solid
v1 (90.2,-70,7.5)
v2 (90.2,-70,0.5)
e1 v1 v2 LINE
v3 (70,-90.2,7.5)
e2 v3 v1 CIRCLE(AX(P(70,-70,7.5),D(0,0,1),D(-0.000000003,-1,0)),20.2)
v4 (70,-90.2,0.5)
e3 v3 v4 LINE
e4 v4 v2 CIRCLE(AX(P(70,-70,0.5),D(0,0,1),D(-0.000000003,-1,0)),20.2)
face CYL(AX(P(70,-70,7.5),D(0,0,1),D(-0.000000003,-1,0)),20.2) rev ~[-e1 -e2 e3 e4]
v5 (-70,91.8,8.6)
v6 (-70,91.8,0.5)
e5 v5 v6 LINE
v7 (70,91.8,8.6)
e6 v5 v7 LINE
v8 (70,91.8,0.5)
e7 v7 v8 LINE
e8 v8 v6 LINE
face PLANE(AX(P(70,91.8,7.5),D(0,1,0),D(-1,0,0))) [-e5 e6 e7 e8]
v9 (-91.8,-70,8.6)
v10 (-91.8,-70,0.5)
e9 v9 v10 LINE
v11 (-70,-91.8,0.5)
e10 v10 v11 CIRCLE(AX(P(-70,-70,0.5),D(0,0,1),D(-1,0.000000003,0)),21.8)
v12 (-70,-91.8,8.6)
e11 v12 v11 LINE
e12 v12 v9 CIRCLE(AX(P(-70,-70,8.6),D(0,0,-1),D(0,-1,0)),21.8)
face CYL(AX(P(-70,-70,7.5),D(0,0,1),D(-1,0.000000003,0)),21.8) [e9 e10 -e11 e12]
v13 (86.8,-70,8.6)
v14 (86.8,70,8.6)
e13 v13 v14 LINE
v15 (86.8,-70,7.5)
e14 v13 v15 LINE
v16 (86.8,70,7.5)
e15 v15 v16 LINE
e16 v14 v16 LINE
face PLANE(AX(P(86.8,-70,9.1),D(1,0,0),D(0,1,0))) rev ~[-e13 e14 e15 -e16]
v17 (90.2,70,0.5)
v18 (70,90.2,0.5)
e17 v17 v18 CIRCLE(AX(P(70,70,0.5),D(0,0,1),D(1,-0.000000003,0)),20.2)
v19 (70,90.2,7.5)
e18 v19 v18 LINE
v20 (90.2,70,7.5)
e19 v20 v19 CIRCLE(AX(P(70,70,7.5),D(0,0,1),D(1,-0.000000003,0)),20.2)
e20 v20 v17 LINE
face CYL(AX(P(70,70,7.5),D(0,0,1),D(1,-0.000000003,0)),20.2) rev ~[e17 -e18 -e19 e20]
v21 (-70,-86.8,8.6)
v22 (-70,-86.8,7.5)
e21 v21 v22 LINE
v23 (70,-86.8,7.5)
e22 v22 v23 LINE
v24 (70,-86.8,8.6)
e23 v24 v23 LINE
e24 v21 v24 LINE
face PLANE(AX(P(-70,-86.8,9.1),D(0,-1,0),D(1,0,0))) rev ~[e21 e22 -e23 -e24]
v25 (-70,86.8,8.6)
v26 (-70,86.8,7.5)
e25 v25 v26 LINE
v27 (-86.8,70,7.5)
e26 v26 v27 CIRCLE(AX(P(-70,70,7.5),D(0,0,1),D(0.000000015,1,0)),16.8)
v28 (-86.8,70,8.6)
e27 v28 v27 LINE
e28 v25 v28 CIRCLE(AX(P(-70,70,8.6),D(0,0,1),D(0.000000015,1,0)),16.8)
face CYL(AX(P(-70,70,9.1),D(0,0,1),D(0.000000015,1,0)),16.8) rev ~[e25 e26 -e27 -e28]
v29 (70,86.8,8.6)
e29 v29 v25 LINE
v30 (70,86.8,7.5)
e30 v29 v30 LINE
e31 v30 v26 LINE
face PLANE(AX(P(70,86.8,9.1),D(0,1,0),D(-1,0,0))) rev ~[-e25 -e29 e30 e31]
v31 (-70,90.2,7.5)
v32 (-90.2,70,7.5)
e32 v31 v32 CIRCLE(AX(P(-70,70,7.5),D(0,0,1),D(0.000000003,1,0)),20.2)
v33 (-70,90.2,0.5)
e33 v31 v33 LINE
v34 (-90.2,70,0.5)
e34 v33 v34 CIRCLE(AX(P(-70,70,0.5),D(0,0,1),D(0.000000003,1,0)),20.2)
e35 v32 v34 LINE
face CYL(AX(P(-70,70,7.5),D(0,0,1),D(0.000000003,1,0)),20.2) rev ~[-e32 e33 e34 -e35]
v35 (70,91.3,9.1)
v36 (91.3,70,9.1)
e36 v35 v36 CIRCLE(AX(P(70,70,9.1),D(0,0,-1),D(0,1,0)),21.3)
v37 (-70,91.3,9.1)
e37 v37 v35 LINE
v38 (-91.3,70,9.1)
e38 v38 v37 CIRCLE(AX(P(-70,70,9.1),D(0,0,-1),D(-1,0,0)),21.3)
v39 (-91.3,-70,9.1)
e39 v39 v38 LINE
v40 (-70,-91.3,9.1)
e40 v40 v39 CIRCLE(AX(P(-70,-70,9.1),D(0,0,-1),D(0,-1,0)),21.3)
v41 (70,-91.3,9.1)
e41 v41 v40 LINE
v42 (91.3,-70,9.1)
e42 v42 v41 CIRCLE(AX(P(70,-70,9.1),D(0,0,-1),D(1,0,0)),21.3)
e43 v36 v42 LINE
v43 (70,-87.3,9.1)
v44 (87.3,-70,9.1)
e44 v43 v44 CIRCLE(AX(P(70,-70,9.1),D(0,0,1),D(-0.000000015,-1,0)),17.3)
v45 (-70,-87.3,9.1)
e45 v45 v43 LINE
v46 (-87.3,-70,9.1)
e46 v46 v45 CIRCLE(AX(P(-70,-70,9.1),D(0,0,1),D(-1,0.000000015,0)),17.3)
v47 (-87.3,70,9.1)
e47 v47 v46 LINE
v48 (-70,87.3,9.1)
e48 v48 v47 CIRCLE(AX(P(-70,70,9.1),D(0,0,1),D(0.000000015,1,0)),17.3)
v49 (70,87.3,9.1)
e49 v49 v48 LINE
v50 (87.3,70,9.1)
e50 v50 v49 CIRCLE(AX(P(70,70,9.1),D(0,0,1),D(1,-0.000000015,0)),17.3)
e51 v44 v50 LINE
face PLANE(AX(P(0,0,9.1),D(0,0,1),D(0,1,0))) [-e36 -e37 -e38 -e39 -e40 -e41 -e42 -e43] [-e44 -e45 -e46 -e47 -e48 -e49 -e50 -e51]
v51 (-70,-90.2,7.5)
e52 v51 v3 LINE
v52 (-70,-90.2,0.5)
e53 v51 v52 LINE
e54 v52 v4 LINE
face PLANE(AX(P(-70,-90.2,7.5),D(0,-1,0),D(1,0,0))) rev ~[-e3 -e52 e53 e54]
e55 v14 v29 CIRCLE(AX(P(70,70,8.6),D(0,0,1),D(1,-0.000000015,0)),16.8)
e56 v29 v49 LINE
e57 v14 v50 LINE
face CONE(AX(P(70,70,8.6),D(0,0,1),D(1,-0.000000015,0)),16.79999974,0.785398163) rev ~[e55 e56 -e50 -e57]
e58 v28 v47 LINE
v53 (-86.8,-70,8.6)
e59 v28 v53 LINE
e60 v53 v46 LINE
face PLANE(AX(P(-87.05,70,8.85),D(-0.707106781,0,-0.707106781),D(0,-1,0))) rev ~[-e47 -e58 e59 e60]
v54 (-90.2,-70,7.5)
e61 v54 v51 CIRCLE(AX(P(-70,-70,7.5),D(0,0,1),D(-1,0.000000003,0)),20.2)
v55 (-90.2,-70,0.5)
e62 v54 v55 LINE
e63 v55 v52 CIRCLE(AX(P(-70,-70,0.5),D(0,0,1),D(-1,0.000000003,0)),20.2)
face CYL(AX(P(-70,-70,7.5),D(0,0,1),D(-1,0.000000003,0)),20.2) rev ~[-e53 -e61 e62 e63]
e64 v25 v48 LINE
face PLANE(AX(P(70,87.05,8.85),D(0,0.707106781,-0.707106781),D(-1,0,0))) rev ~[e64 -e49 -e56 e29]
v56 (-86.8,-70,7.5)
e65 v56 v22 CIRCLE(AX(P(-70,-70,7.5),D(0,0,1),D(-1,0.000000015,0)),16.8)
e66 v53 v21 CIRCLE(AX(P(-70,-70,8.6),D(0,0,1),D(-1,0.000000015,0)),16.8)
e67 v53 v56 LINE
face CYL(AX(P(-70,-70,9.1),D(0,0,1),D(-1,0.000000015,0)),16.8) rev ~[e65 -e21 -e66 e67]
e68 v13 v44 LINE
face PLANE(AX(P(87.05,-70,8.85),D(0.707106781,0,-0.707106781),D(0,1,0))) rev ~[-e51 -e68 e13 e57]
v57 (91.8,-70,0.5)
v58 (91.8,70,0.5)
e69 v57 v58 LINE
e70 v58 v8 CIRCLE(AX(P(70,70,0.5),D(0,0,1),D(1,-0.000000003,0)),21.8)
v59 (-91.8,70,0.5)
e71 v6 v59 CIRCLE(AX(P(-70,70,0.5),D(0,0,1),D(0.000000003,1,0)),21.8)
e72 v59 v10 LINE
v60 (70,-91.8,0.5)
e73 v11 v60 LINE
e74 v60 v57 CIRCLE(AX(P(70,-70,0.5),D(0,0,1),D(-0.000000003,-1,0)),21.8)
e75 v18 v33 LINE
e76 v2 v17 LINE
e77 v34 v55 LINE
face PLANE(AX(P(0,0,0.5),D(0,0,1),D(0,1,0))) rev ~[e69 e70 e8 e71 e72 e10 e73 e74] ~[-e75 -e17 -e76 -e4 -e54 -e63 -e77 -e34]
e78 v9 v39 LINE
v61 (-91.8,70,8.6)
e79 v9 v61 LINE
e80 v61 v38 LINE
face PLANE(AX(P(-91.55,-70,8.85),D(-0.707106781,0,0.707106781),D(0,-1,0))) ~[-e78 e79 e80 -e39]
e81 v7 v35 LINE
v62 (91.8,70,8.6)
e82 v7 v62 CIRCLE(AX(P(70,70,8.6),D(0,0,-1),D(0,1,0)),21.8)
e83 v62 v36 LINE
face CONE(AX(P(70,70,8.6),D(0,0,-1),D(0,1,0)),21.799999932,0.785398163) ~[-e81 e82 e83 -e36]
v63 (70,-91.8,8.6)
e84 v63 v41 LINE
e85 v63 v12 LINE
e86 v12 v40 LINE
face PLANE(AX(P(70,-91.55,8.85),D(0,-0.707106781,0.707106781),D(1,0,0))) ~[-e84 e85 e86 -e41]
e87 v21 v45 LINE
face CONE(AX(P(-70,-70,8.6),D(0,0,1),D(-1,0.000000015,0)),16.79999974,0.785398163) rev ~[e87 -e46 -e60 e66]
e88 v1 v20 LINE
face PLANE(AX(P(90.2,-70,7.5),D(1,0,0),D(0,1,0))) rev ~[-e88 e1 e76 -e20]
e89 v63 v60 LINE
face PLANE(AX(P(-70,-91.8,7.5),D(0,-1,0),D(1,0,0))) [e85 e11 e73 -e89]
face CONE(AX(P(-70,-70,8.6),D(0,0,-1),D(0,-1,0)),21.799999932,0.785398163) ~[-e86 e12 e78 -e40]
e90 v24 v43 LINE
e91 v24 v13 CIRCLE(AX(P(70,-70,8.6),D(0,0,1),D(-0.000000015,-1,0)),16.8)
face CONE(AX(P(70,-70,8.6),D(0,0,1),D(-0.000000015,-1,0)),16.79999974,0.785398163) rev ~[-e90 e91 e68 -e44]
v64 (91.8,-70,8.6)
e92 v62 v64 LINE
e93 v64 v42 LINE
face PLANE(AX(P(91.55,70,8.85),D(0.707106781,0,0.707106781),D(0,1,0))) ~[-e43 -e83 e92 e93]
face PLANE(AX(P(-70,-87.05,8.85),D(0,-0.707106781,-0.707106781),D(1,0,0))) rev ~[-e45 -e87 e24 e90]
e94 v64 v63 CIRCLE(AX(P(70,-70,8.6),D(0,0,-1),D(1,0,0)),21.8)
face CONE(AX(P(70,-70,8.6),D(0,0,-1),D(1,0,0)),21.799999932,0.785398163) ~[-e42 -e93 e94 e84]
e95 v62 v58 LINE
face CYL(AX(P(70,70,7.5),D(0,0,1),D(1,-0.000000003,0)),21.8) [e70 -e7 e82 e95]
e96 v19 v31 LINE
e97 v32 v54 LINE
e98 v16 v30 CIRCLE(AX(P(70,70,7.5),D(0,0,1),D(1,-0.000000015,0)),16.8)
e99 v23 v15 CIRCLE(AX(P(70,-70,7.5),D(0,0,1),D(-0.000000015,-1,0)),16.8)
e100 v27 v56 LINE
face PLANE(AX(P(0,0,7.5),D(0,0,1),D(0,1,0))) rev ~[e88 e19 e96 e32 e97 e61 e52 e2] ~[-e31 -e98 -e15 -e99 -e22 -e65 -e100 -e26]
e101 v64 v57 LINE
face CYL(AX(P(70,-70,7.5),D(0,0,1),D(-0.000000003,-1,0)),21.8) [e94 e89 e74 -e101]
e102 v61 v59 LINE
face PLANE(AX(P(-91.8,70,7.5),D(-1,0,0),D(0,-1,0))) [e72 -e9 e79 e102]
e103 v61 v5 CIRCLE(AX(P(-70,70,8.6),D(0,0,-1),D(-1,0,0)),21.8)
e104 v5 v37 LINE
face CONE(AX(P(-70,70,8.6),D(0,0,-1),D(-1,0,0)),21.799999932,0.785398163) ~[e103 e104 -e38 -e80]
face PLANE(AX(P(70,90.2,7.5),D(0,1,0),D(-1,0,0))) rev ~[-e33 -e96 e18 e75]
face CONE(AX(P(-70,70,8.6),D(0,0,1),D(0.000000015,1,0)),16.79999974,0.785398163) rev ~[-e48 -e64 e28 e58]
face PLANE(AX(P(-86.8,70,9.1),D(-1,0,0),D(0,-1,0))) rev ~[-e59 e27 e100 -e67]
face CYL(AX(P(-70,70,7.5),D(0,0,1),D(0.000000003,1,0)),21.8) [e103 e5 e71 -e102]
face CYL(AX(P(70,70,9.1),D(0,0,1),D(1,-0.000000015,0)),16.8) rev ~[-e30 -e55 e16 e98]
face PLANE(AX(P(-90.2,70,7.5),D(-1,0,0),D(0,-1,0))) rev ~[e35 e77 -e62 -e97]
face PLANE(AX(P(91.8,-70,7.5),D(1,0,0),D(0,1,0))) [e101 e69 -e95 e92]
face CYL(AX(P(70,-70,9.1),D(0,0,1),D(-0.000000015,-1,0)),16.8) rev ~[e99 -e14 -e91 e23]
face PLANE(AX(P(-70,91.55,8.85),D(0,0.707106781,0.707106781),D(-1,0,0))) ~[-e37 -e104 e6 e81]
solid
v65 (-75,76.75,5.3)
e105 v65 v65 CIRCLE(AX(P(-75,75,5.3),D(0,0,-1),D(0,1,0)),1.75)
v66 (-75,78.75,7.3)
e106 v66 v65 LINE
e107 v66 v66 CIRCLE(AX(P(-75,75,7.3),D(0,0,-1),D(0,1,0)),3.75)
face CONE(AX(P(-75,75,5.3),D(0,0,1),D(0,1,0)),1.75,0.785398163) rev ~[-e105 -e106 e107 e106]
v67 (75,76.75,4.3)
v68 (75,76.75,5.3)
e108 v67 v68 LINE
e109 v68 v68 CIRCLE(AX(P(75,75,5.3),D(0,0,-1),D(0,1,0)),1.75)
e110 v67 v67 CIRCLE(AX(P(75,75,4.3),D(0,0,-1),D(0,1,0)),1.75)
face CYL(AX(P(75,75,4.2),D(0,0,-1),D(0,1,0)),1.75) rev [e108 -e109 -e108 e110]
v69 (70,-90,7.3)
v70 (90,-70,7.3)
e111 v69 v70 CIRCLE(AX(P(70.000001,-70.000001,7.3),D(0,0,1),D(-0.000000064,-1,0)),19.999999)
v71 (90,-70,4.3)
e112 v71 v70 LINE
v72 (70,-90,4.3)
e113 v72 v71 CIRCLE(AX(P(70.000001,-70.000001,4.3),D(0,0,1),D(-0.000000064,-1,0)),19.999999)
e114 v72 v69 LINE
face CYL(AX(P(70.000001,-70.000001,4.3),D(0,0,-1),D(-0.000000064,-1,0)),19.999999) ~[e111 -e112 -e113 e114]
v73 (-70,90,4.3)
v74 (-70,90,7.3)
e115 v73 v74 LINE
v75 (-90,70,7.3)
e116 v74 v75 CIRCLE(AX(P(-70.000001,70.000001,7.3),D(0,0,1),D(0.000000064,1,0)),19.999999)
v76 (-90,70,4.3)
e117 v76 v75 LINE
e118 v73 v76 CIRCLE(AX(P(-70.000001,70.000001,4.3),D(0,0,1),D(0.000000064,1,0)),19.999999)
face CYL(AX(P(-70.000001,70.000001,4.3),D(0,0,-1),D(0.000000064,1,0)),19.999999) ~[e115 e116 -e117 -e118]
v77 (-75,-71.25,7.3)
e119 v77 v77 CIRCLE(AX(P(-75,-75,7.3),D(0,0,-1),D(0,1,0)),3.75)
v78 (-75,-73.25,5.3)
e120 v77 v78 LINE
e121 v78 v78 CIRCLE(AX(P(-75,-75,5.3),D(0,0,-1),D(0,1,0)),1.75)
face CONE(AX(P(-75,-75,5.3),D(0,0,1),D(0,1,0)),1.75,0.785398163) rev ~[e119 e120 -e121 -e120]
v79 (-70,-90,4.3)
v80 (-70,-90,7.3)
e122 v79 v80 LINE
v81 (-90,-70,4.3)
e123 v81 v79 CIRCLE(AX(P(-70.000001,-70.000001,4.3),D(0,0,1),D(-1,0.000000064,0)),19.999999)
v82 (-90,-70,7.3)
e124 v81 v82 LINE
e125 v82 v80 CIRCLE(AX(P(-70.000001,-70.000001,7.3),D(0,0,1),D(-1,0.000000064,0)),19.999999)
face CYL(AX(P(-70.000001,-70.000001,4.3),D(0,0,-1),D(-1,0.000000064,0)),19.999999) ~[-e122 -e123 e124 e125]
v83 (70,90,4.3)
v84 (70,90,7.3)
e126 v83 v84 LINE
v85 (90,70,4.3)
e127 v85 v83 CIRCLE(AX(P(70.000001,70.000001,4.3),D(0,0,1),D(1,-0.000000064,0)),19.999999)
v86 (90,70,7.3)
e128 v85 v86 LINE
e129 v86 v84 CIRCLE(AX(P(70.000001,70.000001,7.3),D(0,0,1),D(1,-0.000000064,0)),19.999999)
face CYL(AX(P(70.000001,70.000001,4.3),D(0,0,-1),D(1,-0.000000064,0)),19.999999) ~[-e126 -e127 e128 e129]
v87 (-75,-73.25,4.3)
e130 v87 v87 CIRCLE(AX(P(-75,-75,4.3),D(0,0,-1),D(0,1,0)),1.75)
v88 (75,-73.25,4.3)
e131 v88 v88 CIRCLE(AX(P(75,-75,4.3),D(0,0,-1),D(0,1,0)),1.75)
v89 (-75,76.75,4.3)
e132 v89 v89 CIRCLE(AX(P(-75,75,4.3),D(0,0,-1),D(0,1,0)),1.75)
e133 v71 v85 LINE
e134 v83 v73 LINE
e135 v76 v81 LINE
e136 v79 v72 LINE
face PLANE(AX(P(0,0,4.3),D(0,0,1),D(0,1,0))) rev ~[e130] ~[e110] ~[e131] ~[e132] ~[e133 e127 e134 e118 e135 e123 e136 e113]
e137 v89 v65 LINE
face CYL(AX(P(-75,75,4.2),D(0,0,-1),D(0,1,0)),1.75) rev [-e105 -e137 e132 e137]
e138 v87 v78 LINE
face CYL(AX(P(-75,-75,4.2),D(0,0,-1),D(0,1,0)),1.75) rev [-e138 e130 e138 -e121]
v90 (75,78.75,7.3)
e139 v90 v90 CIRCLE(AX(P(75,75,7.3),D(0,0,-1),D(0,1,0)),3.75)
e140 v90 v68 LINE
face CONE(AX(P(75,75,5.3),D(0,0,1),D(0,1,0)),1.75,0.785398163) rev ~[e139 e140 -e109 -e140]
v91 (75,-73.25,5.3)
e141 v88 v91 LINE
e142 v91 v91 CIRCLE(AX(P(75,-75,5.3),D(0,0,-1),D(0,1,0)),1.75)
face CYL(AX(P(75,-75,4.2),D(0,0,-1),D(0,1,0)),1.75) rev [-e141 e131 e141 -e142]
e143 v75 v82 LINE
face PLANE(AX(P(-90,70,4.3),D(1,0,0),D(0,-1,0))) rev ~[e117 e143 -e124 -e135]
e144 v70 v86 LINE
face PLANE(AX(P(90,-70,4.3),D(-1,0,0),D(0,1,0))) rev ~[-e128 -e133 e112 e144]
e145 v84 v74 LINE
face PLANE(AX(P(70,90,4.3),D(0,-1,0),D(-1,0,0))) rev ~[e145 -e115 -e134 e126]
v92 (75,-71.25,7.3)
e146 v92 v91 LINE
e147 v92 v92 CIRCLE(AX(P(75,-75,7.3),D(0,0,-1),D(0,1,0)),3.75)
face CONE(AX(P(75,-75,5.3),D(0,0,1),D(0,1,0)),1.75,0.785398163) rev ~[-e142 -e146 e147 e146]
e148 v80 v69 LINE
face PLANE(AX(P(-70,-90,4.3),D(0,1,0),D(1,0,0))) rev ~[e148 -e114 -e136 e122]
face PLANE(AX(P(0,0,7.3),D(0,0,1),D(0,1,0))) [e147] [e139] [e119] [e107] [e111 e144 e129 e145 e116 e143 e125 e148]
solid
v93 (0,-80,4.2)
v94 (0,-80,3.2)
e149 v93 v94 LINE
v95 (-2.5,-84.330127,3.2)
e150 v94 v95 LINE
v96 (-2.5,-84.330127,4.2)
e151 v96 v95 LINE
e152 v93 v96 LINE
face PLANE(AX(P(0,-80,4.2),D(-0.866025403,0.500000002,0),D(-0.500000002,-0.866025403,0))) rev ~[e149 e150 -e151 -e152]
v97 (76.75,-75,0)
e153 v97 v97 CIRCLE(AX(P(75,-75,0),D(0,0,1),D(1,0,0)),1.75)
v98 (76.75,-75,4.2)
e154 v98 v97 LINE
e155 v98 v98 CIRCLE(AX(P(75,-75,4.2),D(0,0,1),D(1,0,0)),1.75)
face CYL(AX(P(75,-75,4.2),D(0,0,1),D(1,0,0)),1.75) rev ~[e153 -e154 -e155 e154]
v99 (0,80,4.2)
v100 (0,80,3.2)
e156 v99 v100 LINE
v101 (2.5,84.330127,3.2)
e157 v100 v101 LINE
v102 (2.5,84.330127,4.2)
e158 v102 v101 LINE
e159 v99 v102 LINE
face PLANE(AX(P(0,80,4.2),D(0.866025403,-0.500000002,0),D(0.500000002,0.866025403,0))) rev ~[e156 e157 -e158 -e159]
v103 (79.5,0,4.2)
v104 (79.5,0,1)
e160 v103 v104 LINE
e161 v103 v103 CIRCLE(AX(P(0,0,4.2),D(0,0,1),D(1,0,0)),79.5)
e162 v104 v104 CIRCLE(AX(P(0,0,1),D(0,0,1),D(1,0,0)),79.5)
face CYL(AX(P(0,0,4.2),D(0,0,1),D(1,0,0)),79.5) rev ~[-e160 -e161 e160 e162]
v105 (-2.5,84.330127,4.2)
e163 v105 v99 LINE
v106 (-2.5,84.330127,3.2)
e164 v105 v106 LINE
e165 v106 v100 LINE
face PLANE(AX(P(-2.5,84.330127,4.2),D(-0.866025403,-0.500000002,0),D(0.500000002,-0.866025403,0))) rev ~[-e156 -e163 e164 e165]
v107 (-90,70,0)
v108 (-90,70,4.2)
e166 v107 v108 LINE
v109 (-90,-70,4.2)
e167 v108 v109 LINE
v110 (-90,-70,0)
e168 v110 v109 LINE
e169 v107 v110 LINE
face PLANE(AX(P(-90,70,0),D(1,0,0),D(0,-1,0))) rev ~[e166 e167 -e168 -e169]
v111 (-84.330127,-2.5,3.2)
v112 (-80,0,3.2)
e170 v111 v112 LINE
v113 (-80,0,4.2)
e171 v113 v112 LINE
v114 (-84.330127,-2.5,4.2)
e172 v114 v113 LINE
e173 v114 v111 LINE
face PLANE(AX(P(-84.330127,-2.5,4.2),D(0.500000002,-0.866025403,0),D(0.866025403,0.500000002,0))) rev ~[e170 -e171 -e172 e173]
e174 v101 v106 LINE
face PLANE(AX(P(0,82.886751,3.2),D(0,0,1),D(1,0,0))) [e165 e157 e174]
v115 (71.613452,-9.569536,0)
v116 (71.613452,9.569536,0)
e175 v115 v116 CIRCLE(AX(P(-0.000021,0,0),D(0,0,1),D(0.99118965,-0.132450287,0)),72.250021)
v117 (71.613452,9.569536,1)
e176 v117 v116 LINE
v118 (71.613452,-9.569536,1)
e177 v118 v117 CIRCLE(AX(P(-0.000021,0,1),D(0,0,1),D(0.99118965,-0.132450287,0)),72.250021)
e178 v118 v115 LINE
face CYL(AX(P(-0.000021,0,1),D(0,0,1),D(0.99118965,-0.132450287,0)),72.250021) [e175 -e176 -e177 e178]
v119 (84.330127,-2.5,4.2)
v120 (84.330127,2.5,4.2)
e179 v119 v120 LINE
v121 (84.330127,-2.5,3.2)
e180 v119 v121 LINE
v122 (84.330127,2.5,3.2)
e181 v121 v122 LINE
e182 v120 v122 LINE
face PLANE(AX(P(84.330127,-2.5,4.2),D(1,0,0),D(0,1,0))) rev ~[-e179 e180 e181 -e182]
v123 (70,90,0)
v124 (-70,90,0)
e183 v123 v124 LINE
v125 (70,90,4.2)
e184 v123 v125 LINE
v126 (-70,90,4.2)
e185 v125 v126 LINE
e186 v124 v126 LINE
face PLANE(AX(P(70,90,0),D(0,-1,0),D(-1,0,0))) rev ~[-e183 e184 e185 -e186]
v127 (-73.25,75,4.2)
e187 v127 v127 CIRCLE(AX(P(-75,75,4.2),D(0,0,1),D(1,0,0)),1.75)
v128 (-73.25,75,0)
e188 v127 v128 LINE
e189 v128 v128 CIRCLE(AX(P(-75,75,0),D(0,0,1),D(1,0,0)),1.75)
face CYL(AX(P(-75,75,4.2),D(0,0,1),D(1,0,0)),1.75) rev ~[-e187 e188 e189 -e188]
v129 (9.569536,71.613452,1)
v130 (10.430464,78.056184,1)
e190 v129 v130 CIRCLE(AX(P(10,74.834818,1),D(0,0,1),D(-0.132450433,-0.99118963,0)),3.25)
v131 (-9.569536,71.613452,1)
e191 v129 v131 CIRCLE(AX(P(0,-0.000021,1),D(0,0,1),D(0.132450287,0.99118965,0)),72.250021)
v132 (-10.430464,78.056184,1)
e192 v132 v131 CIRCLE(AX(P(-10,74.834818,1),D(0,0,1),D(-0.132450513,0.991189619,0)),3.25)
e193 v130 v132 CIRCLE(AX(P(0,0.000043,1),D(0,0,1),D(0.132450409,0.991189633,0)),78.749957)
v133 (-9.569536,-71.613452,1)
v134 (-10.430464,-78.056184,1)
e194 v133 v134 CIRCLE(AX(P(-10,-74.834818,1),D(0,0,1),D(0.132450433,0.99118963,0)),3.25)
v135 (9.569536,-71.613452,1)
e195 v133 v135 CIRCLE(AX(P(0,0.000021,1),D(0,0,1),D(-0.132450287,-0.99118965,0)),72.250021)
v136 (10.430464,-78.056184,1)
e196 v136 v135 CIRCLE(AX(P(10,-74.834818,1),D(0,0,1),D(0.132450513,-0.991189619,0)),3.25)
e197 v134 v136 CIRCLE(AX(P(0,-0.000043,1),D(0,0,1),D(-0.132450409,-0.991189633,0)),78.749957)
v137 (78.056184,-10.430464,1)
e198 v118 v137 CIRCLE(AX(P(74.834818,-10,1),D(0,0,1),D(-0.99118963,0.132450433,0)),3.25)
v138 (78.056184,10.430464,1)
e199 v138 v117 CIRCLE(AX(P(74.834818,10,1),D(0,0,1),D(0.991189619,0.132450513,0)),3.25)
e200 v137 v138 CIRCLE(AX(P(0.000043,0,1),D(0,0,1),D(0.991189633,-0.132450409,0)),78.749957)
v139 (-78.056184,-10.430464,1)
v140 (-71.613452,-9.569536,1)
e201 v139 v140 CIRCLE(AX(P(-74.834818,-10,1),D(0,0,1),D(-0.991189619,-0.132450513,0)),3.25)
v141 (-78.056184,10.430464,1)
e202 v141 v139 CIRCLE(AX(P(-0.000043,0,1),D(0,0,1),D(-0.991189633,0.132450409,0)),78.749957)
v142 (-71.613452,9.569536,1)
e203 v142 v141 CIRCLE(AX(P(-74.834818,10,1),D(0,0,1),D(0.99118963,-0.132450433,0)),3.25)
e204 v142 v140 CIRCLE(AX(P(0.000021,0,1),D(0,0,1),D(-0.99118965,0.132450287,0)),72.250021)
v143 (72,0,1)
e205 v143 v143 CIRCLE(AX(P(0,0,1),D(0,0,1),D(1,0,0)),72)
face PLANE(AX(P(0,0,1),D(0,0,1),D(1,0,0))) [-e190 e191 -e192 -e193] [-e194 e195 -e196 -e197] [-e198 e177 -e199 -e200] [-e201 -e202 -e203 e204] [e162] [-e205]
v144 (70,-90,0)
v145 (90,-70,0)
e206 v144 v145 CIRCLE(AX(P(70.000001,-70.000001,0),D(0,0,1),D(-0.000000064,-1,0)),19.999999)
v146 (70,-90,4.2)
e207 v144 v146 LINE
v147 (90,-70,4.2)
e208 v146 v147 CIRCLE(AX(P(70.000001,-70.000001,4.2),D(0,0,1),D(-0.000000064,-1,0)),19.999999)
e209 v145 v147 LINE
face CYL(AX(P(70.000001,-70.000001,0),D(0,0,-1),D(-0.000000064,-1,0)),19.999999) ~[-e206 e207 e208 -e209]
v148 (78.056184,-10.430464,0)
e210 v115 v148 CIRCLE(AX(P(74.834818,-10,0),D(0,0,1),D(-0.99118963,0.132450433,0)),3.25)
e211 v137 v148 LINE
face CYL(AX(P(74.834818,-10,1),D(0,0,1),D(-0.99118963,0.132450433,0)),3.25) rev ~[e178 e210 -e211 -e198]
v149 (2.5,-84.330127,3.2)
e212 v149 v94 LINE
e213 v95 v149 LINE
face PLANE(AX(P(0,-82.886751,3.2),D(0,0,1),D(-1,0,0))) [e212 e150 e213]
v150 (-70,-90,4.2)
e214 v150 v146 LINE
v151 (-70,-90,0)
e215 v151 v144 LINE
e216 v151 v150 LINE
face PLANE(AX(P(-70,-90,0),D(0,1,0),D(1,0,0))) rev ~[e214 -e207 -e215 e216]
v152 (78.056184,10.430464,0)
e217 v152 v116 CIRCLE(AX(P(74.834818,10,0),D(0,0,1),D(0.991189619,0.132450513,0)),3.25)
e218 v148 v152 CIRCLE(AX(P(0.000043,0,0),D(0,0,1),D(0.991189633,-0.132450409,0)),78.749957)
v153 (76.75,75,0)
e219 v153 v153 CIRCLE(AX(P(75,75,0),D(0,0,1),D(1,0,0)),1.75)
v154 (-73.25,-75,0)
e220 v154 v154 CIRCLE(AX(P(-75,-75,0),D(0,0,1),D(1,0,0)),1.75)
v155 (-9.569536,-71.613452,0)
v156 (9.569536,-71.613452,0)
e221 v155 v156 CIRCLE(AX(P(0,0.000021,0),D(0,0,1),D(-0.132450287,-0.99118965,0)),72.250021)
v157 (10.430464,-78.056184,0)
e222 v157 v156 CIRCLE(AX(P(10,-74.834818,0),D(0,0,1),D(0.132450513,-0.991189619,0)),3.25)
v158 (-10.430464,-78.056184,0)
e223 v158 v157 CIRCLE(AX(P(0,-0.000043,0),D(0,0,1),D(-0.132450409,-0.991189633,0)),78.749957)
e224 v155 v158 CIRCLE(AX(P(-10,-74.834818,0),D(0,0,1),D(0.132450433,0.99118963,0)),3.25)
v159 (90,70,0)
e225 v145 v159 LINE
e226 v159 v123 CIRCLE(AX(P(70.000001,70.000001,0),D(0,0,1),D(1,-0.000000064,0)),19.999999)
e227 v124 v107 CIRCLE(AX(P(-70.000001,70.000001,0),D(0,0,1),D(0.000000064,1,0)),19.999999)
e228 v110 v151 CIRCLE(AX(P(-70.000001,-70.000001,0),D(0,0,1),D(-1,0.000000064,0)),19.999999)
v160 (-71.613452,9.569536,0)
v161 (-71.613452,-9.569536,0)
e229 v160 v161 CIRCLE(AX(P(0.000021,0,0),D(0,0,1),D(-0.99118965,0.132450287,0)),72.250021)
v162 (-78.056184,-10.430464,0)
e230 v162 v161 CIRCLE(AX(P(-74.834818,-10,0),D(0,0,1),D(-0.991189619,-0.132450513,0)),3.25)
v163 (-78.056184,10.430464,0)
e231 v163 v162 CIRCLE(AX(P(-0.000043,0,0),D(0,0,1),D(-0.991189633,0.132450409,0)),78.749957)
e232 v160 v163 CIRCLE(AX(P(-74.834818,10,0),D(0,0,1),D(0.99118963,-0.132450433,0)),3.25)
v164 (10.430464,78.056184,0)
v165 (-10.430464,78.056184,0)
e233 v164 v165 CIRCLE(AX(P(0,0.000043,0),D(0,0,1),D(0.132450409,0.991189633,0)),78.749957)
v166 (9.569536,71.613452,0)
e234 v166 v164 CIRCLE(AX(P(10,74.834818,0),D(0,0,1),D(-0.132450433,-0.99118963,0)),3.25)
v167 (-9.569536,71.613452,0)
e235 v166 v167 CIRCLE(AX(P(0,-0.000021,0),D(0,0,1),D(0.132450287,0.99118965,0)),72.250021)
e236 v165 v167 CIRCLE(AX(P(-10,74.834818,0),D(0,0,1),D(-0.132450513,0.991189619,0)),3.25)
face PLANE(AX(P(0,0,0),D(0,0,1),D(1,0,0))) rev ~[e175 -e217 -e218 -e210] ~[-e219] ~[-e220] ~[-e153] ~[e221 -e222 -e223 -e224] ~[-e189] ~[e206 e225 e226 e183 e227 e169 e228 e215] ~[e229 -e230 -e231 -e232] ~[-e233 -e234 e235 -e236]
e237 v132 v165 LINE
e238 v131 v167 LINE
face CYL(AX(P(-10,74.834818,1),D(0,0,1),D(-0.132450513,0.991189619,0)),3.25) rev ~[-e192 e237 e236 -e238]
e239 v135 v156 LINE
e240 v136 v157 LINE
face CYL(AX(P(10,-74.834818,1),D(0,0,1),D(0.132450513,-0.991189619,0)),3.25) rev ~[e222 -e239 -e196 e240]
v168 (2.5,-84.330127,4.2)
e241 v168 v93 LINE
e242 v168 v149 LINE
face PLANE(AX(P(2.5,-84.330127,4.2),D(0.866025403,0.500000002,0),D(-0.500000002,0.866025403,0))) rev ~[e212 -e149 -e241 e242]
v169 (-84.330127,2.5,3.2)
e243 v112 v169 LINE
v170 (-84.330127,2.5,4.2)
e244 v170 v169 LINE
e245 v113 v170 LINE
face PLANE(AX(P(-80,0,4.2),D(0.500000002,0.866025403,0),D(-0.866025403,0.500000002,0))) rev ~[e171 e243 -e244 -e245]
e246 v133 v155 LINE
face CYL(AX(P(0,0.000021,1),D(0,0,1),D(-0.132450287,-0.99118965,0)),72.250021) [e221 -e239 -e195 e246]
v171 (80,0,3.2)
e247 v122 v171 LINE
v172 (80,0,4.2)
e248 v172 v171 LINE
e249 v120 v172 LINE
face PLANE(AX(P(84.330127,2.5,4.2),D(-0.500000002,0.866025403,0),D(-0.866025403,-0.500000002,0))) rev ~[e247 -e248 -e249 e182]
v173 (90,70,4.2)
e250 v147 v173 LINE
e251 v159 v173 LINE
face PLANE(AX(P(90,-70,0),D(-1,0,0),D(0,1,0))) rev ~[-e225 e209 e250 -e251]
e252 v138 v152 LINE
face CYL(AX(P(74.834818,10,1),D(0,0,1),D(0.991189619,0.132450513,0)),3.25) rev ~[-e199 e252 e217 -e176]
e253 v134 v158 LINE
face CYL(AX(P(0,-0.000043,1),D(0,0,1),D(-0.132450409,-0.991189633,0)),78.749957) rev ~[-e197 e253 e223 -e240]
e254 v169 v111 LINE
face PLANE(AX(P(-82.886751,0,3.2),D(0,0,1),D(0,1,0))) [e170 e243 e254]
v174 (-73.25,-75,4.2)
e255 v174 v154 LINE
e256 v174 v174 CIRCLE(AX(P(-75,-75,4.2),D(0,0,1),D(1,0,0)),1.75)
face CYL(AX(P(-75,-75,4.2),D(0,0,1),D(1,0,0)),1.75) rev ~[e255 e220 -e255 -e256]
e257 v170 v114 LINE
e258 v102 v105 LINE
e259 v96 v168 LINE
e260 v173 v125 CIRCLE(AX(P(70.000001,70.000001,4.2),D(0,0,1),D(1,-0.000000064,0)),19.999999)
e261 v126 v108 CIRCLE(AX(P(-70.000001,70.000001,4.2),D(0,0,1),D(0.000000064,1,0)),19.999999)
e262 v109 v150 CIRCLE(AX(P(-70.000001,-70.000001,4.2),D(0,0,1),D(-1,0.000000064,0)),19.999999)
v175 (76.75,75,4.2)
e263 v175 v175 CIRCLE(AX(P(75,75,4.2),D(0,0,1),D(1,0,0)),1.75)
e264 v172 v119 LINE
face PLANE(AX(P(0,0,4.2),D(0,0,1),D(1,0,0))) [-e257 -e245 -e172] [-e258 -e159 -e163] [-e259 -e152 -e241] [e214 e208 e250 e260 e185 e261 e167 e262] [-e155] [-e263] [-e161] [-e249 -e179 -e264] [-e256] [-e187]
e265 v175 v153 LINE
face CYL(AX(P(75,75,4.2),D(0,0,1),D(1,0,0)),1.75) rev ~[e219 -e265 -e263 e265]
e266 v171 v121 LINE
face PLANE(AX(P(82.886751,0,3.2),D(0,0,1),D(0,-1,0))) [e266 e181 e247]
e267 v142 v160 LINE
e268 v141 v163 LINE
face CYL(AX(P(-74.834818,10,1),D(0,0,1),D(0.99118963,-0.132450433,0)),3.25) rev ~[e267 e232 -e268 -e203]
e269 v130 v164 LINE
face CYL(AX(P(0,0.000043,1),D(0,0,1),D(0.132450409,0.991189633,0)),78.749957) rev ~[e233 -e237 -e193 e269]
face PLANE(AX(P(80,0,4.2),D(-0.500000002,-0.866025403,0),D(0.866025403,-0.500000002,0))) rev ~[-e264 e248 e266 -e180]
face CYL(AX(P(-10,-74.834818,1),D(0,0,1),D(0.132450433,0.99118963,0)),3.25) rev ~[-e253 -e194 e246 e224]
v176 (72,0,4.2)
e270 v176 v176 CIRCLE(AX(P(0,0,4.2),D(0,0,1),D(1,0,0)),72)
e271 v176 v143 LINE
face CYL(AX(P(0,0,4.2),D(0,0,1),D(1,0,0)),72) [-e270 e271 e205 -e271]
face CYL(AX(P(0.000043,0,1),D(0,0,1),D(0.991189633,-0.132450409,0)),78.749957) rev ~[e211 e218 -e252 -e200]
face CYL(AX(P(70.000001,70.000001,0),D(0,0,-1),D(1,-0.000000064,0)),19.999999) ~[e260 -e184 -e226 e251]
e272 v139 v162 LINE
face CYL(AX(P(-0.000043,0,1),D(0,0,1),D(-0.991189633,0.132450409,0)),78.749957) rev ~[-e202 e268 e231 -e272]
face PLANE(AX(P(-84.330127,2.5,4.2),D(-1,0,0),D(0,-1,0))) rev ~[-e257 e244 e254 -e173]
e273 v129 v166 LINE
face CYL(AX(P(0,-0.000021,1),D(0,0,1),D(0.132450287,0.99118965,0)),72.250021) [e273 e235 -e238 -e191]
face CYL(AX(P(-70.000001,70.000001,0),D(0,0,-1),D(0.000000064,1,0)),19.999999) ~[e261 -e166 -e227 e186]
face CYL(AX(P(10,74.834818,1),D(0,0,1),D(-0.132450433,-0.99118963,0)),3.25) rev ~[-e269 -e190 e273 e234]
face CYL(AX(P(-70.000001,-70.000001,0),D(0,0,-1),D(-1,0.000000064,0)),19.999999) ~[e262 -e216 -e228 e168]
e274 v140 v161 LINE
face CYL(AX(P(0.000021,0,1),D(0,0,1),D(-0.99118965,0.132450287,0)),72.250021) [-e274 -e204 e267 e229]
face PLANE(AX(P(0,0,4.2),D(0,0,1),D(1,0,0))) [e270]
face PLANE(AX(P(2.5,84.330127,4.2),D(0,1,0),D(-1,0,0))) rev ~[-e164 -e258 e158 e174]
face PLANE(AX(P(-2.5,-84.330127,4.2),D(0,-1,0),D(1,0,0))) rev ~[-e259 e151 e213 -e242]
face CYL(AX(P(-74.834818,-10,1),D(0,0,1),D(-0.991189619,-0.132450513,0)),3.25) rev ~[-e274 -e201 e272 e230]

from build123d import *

# Parameters (mm, degrees)
PAD_DEPTH             = 4.2
SKETCH001_R           = 1.75
POCKET_DEPTH          = 4.201
SKETCH002_R           = 79.5
SKETCH002_R_2         = 72
POCKET001_DEPTH       = 3.2
POCKET002_DEPTH       = 510.187174
POLARPATTERN_COUNT    = 4
POCKET004_DEPTH       = 1
POLARPATTERN001_COUNT = 4
PAD001_DEPTH          = 7
THICKNESS_T           = 1.6
POCKET005_DEPTH       = 5
CHAMFER_SIZE          = 0.5
PAD002_DEPTH          = 3
BINDER002_R           = 1.75
POCKET006_DEPTH       = 5
CHAMFER001_SIZE       = 2


with BuildPart() as led_dr_k:
    # Sketch → Pad (new body)
    with BuildSketch(Plane.XY):
        with BuildLine():
            Line((-70, -90), (70, -90))
            ThreePointArc((70, -90), (84.142136, -84.142136), (90, -70))
            Line((90, -70), (90, 70))
            ThreePointArc((90, 70), (84.142136, 84.142136), (70, 90))
            Line((70, 90), (-70, 90))
            ThreePointArc((-70, 90), (-84.142136, 84.142136), (-90, 70))
            Line((-90, 70), (-90, -70))
            ThreePointArc((-90, -70), (-84.142136, -84.142136), (-70, -90))
        make_face()
    extrude(amount=PAD_DEPTH)

    # Sketch001 (on Face10 of Pad) → Pocket (cut, through all)
    with BuildSketch(Plane.XY.offset(4.2)):
        with Locations((-75, 75)):
            Circle(SKETCH001_R)
        with Locations((75, 75)):
            Circle(SKETCH001_R)
        with Locations((75, -75)):
            Circle(SKETCH001_R)
        with Locations((-75, -75)):
            Circle(SKETCH001_R)
    extrude(amount=-POCKET_DEPTH, mode=Mode.SUBTRACT)

    # Sketch002 (on Face5 of Pocket) → Pocket001 (cut)
    with BuildSketch(Plane.XY.offset(4.2)):
        Circle(SKETCH002_R)
        Circle(SKETCH002_R_2, mode=Mode.SUBTRACT)
    extrude(amount=-POCKET001_DEPTH, mode=Mode.SUBTRACT)

    # Sketch003 (on Face16 of Pocket001) → Pocket002 (cut, through all)
    with BuildSketch(Plane.XY.offset(1)):
        with BuildLine():
            ThreePointArc((10.430464, 78.056184), (0, 78.75), (-10.430464, 78.056184))
            ThreePointArc((-10.430464, 78.056184), (-13.221366, 74.404355), (-9.569536, 71.613452))
            ThreePointArc((9.569536, 71.613452), (0, 72.25), (-9.569536, 71.613452))
            ThreePointArc((9.569536, 71.613452), (13.221366, 74.404355), (10.430464, 78.056184))
        make_face()
    pocket002 = extrude(amount=-POCKET002_DEPTH, mode=Mode.SUBTRACT)

    # PolarPattern: Pocket002 ×4 about axis
    polarpattern_axis = Axis((0, 0, 1), (0, 0, 1))
    for i in range(1, POLARPATTERN_COUNT):
        add(pocket002.rotate(polarpattern_axis, i * 360 / POLARPATTERN_COUNT), mode=Mode.SUBTRACT)

    # Sketch006 (on Face5 of PolarPattern) → Pocket004 (cut)
    with BuildSketch(Plane.XY.offset(4.2)):
        Polygon((0, 80), (2.5, 84.330127), (-2.5, 84.330127), align=None)
    pocket004 = extrude(amount=-POCKET004_DEPTH, mode=Mode.SUBTRACT)

    # PolarPattern001: Pocket004 ×4 about axis
    polarpattern001_axis = Axis((0, 0, 4.2), (0, 0, 1))
    for i in range(1, POLARPATTERN001_COUNT):
        add(pocket004.rotate(polarpattern001_axis, i * 360 / POLARPATTERN001_COUNT), mode=Mode.SUBTRACT)


with BuildPart() as r_me_ek:
    # Binder → Pad001 (new body)
    with BuildSketch(Plane(origin=(0, 0, 7.5), x_dir=(0, 1, 0), z_dir=(0, 0, 1))):
        with BuildLine():
            Line((-90.2, 70), (-90.2, -70))
            ThreePointArc((-90.2, -70), (-84.283557, -84.283557), (-70, -90.2))
            Line((-70, -90.2), (70, -90.2))
            ThreePointArc((70, -90.2), (84.283557, -84.283557), (90.2, -70))
            Line((90.2, -70), (90.2, 70))
            ThreePointArc((90.2, 70), (84.283557, 84.283557), (70, 90.2))
            Line((70, 90.2), (-70, 90.2))
            ThreePointArc((-70, 90.2), (-84.283557, 84.283557), (-90.2, 70))
        make_face()
    extrude(amount=-PAD001_DEPTH)

    # Thickness
    thickness_openings = [r_me_ek.faces().sort_by_distance(p)[0] for p in [
        (0, 0, 0.5),
    ]]
    offset(amount=THICKNESS_T, openings=thickness_openings, kind=Kind.INTERSECTION)

    # Sketch007 (on Face19 of Thickness) → Pocket005 (cut)
    with BuildSketch(Plane.XY.offset(9.1)):
        with BuildLine():
            Line((-86.8, 70), (-86.8, -70))
            ThreePointArc((-86.8, -70), (-81.879394, -81.879394), (-70, -86.8))
            Line((-70, -86.8), (70, -86.8))
            ThreePointArc((70, -86.8), (81.879394, -81.879394), (86.8, -70))
            Line((86.8, -70), (86.8, 70))
            ThreePointArc((86.8, 70), (81.879394, 81.879394), (70, 86.8))
            Line((70, 86.8), (-70, 86.8))
            ThreePointArc((-70, 86.8), (-81.879394, 81.879394), (-86.8, 70))
        make_face()
    extrude(amount=-POCKET005_DEPTH, mode=Mode.SUBTRACT)

    # Chamfer
    chamfer_edges = [r_me_ek.edges().sort_by_distance(p)[0] for p in [
        (-86.8, 0, 9.1),
        (-91.8, 0, 9.1),
    ]]
    chamfer(chamfer_edges, length=CHAMFER_SIZE)


with BuildPart() as plexi_3mm:
    # Binder001 → Pad002 (new body)
    with BuildSketch(Plane(origin=(0, 0, 4.3), x_dir=(0, 1, 0), z_dir=(0, 0, 1))):
        with BuildLine():
            Line((-90, 70), (-90, -70))
            ThreePointArc((-90, -70), (-84.142136, -84.142136), (-70, -90))
            Line((-70, -90), (70, -90))
            ThreePointArc((70, -90), (84.142136, -84.142136), (90, -70))
            Line((90, -70), (90, 70))
            ThreePointArc((90, 70), (84.142136, 84.142136), (70, 90))
            Line((70, 90), (-70, 90))
            ThreePointArc((-70, 90), (-84.142136, 84.142136), (-90, 70))
        make_face()
    extrude(amount=PAD002_DEPTH)

    # Binder002 → Pocket006 (cut)
    with BuildSketch(Plane(origin=(-75, -75, 4.2), x_dir=(0, 1, 0), z_dir=(0, 0, 1))):
        Circle(BINDER002_R)
        with Locations((0, -150)):
            Circle(BINDER002_R)
        with Locations((150, -150)):
            Circle(BINDER002_R)
        with Locations((150, 0)):
            Circle(BINDER002_R)
    extrude(amount=POCKET006_DEPTH, mode=Mode.SUBTRACT)

    # Chamfer001
    chamfer001_edges = [plexi_3mm.edges().sort_by_distance(p)[0] for p in [
        (-76.75, -75, 7.3),
        (73.25, -75, 7.3),
        (73.25, 75, 7.3),
        (-76.75, 75, 7.3),
    ]]
    chamfer(chamfer001_edges, length=CHAMFER001_SIZE)


solid = Compound([led_dr_k.part, r_me_ek.part, plexi_3mm.part])
